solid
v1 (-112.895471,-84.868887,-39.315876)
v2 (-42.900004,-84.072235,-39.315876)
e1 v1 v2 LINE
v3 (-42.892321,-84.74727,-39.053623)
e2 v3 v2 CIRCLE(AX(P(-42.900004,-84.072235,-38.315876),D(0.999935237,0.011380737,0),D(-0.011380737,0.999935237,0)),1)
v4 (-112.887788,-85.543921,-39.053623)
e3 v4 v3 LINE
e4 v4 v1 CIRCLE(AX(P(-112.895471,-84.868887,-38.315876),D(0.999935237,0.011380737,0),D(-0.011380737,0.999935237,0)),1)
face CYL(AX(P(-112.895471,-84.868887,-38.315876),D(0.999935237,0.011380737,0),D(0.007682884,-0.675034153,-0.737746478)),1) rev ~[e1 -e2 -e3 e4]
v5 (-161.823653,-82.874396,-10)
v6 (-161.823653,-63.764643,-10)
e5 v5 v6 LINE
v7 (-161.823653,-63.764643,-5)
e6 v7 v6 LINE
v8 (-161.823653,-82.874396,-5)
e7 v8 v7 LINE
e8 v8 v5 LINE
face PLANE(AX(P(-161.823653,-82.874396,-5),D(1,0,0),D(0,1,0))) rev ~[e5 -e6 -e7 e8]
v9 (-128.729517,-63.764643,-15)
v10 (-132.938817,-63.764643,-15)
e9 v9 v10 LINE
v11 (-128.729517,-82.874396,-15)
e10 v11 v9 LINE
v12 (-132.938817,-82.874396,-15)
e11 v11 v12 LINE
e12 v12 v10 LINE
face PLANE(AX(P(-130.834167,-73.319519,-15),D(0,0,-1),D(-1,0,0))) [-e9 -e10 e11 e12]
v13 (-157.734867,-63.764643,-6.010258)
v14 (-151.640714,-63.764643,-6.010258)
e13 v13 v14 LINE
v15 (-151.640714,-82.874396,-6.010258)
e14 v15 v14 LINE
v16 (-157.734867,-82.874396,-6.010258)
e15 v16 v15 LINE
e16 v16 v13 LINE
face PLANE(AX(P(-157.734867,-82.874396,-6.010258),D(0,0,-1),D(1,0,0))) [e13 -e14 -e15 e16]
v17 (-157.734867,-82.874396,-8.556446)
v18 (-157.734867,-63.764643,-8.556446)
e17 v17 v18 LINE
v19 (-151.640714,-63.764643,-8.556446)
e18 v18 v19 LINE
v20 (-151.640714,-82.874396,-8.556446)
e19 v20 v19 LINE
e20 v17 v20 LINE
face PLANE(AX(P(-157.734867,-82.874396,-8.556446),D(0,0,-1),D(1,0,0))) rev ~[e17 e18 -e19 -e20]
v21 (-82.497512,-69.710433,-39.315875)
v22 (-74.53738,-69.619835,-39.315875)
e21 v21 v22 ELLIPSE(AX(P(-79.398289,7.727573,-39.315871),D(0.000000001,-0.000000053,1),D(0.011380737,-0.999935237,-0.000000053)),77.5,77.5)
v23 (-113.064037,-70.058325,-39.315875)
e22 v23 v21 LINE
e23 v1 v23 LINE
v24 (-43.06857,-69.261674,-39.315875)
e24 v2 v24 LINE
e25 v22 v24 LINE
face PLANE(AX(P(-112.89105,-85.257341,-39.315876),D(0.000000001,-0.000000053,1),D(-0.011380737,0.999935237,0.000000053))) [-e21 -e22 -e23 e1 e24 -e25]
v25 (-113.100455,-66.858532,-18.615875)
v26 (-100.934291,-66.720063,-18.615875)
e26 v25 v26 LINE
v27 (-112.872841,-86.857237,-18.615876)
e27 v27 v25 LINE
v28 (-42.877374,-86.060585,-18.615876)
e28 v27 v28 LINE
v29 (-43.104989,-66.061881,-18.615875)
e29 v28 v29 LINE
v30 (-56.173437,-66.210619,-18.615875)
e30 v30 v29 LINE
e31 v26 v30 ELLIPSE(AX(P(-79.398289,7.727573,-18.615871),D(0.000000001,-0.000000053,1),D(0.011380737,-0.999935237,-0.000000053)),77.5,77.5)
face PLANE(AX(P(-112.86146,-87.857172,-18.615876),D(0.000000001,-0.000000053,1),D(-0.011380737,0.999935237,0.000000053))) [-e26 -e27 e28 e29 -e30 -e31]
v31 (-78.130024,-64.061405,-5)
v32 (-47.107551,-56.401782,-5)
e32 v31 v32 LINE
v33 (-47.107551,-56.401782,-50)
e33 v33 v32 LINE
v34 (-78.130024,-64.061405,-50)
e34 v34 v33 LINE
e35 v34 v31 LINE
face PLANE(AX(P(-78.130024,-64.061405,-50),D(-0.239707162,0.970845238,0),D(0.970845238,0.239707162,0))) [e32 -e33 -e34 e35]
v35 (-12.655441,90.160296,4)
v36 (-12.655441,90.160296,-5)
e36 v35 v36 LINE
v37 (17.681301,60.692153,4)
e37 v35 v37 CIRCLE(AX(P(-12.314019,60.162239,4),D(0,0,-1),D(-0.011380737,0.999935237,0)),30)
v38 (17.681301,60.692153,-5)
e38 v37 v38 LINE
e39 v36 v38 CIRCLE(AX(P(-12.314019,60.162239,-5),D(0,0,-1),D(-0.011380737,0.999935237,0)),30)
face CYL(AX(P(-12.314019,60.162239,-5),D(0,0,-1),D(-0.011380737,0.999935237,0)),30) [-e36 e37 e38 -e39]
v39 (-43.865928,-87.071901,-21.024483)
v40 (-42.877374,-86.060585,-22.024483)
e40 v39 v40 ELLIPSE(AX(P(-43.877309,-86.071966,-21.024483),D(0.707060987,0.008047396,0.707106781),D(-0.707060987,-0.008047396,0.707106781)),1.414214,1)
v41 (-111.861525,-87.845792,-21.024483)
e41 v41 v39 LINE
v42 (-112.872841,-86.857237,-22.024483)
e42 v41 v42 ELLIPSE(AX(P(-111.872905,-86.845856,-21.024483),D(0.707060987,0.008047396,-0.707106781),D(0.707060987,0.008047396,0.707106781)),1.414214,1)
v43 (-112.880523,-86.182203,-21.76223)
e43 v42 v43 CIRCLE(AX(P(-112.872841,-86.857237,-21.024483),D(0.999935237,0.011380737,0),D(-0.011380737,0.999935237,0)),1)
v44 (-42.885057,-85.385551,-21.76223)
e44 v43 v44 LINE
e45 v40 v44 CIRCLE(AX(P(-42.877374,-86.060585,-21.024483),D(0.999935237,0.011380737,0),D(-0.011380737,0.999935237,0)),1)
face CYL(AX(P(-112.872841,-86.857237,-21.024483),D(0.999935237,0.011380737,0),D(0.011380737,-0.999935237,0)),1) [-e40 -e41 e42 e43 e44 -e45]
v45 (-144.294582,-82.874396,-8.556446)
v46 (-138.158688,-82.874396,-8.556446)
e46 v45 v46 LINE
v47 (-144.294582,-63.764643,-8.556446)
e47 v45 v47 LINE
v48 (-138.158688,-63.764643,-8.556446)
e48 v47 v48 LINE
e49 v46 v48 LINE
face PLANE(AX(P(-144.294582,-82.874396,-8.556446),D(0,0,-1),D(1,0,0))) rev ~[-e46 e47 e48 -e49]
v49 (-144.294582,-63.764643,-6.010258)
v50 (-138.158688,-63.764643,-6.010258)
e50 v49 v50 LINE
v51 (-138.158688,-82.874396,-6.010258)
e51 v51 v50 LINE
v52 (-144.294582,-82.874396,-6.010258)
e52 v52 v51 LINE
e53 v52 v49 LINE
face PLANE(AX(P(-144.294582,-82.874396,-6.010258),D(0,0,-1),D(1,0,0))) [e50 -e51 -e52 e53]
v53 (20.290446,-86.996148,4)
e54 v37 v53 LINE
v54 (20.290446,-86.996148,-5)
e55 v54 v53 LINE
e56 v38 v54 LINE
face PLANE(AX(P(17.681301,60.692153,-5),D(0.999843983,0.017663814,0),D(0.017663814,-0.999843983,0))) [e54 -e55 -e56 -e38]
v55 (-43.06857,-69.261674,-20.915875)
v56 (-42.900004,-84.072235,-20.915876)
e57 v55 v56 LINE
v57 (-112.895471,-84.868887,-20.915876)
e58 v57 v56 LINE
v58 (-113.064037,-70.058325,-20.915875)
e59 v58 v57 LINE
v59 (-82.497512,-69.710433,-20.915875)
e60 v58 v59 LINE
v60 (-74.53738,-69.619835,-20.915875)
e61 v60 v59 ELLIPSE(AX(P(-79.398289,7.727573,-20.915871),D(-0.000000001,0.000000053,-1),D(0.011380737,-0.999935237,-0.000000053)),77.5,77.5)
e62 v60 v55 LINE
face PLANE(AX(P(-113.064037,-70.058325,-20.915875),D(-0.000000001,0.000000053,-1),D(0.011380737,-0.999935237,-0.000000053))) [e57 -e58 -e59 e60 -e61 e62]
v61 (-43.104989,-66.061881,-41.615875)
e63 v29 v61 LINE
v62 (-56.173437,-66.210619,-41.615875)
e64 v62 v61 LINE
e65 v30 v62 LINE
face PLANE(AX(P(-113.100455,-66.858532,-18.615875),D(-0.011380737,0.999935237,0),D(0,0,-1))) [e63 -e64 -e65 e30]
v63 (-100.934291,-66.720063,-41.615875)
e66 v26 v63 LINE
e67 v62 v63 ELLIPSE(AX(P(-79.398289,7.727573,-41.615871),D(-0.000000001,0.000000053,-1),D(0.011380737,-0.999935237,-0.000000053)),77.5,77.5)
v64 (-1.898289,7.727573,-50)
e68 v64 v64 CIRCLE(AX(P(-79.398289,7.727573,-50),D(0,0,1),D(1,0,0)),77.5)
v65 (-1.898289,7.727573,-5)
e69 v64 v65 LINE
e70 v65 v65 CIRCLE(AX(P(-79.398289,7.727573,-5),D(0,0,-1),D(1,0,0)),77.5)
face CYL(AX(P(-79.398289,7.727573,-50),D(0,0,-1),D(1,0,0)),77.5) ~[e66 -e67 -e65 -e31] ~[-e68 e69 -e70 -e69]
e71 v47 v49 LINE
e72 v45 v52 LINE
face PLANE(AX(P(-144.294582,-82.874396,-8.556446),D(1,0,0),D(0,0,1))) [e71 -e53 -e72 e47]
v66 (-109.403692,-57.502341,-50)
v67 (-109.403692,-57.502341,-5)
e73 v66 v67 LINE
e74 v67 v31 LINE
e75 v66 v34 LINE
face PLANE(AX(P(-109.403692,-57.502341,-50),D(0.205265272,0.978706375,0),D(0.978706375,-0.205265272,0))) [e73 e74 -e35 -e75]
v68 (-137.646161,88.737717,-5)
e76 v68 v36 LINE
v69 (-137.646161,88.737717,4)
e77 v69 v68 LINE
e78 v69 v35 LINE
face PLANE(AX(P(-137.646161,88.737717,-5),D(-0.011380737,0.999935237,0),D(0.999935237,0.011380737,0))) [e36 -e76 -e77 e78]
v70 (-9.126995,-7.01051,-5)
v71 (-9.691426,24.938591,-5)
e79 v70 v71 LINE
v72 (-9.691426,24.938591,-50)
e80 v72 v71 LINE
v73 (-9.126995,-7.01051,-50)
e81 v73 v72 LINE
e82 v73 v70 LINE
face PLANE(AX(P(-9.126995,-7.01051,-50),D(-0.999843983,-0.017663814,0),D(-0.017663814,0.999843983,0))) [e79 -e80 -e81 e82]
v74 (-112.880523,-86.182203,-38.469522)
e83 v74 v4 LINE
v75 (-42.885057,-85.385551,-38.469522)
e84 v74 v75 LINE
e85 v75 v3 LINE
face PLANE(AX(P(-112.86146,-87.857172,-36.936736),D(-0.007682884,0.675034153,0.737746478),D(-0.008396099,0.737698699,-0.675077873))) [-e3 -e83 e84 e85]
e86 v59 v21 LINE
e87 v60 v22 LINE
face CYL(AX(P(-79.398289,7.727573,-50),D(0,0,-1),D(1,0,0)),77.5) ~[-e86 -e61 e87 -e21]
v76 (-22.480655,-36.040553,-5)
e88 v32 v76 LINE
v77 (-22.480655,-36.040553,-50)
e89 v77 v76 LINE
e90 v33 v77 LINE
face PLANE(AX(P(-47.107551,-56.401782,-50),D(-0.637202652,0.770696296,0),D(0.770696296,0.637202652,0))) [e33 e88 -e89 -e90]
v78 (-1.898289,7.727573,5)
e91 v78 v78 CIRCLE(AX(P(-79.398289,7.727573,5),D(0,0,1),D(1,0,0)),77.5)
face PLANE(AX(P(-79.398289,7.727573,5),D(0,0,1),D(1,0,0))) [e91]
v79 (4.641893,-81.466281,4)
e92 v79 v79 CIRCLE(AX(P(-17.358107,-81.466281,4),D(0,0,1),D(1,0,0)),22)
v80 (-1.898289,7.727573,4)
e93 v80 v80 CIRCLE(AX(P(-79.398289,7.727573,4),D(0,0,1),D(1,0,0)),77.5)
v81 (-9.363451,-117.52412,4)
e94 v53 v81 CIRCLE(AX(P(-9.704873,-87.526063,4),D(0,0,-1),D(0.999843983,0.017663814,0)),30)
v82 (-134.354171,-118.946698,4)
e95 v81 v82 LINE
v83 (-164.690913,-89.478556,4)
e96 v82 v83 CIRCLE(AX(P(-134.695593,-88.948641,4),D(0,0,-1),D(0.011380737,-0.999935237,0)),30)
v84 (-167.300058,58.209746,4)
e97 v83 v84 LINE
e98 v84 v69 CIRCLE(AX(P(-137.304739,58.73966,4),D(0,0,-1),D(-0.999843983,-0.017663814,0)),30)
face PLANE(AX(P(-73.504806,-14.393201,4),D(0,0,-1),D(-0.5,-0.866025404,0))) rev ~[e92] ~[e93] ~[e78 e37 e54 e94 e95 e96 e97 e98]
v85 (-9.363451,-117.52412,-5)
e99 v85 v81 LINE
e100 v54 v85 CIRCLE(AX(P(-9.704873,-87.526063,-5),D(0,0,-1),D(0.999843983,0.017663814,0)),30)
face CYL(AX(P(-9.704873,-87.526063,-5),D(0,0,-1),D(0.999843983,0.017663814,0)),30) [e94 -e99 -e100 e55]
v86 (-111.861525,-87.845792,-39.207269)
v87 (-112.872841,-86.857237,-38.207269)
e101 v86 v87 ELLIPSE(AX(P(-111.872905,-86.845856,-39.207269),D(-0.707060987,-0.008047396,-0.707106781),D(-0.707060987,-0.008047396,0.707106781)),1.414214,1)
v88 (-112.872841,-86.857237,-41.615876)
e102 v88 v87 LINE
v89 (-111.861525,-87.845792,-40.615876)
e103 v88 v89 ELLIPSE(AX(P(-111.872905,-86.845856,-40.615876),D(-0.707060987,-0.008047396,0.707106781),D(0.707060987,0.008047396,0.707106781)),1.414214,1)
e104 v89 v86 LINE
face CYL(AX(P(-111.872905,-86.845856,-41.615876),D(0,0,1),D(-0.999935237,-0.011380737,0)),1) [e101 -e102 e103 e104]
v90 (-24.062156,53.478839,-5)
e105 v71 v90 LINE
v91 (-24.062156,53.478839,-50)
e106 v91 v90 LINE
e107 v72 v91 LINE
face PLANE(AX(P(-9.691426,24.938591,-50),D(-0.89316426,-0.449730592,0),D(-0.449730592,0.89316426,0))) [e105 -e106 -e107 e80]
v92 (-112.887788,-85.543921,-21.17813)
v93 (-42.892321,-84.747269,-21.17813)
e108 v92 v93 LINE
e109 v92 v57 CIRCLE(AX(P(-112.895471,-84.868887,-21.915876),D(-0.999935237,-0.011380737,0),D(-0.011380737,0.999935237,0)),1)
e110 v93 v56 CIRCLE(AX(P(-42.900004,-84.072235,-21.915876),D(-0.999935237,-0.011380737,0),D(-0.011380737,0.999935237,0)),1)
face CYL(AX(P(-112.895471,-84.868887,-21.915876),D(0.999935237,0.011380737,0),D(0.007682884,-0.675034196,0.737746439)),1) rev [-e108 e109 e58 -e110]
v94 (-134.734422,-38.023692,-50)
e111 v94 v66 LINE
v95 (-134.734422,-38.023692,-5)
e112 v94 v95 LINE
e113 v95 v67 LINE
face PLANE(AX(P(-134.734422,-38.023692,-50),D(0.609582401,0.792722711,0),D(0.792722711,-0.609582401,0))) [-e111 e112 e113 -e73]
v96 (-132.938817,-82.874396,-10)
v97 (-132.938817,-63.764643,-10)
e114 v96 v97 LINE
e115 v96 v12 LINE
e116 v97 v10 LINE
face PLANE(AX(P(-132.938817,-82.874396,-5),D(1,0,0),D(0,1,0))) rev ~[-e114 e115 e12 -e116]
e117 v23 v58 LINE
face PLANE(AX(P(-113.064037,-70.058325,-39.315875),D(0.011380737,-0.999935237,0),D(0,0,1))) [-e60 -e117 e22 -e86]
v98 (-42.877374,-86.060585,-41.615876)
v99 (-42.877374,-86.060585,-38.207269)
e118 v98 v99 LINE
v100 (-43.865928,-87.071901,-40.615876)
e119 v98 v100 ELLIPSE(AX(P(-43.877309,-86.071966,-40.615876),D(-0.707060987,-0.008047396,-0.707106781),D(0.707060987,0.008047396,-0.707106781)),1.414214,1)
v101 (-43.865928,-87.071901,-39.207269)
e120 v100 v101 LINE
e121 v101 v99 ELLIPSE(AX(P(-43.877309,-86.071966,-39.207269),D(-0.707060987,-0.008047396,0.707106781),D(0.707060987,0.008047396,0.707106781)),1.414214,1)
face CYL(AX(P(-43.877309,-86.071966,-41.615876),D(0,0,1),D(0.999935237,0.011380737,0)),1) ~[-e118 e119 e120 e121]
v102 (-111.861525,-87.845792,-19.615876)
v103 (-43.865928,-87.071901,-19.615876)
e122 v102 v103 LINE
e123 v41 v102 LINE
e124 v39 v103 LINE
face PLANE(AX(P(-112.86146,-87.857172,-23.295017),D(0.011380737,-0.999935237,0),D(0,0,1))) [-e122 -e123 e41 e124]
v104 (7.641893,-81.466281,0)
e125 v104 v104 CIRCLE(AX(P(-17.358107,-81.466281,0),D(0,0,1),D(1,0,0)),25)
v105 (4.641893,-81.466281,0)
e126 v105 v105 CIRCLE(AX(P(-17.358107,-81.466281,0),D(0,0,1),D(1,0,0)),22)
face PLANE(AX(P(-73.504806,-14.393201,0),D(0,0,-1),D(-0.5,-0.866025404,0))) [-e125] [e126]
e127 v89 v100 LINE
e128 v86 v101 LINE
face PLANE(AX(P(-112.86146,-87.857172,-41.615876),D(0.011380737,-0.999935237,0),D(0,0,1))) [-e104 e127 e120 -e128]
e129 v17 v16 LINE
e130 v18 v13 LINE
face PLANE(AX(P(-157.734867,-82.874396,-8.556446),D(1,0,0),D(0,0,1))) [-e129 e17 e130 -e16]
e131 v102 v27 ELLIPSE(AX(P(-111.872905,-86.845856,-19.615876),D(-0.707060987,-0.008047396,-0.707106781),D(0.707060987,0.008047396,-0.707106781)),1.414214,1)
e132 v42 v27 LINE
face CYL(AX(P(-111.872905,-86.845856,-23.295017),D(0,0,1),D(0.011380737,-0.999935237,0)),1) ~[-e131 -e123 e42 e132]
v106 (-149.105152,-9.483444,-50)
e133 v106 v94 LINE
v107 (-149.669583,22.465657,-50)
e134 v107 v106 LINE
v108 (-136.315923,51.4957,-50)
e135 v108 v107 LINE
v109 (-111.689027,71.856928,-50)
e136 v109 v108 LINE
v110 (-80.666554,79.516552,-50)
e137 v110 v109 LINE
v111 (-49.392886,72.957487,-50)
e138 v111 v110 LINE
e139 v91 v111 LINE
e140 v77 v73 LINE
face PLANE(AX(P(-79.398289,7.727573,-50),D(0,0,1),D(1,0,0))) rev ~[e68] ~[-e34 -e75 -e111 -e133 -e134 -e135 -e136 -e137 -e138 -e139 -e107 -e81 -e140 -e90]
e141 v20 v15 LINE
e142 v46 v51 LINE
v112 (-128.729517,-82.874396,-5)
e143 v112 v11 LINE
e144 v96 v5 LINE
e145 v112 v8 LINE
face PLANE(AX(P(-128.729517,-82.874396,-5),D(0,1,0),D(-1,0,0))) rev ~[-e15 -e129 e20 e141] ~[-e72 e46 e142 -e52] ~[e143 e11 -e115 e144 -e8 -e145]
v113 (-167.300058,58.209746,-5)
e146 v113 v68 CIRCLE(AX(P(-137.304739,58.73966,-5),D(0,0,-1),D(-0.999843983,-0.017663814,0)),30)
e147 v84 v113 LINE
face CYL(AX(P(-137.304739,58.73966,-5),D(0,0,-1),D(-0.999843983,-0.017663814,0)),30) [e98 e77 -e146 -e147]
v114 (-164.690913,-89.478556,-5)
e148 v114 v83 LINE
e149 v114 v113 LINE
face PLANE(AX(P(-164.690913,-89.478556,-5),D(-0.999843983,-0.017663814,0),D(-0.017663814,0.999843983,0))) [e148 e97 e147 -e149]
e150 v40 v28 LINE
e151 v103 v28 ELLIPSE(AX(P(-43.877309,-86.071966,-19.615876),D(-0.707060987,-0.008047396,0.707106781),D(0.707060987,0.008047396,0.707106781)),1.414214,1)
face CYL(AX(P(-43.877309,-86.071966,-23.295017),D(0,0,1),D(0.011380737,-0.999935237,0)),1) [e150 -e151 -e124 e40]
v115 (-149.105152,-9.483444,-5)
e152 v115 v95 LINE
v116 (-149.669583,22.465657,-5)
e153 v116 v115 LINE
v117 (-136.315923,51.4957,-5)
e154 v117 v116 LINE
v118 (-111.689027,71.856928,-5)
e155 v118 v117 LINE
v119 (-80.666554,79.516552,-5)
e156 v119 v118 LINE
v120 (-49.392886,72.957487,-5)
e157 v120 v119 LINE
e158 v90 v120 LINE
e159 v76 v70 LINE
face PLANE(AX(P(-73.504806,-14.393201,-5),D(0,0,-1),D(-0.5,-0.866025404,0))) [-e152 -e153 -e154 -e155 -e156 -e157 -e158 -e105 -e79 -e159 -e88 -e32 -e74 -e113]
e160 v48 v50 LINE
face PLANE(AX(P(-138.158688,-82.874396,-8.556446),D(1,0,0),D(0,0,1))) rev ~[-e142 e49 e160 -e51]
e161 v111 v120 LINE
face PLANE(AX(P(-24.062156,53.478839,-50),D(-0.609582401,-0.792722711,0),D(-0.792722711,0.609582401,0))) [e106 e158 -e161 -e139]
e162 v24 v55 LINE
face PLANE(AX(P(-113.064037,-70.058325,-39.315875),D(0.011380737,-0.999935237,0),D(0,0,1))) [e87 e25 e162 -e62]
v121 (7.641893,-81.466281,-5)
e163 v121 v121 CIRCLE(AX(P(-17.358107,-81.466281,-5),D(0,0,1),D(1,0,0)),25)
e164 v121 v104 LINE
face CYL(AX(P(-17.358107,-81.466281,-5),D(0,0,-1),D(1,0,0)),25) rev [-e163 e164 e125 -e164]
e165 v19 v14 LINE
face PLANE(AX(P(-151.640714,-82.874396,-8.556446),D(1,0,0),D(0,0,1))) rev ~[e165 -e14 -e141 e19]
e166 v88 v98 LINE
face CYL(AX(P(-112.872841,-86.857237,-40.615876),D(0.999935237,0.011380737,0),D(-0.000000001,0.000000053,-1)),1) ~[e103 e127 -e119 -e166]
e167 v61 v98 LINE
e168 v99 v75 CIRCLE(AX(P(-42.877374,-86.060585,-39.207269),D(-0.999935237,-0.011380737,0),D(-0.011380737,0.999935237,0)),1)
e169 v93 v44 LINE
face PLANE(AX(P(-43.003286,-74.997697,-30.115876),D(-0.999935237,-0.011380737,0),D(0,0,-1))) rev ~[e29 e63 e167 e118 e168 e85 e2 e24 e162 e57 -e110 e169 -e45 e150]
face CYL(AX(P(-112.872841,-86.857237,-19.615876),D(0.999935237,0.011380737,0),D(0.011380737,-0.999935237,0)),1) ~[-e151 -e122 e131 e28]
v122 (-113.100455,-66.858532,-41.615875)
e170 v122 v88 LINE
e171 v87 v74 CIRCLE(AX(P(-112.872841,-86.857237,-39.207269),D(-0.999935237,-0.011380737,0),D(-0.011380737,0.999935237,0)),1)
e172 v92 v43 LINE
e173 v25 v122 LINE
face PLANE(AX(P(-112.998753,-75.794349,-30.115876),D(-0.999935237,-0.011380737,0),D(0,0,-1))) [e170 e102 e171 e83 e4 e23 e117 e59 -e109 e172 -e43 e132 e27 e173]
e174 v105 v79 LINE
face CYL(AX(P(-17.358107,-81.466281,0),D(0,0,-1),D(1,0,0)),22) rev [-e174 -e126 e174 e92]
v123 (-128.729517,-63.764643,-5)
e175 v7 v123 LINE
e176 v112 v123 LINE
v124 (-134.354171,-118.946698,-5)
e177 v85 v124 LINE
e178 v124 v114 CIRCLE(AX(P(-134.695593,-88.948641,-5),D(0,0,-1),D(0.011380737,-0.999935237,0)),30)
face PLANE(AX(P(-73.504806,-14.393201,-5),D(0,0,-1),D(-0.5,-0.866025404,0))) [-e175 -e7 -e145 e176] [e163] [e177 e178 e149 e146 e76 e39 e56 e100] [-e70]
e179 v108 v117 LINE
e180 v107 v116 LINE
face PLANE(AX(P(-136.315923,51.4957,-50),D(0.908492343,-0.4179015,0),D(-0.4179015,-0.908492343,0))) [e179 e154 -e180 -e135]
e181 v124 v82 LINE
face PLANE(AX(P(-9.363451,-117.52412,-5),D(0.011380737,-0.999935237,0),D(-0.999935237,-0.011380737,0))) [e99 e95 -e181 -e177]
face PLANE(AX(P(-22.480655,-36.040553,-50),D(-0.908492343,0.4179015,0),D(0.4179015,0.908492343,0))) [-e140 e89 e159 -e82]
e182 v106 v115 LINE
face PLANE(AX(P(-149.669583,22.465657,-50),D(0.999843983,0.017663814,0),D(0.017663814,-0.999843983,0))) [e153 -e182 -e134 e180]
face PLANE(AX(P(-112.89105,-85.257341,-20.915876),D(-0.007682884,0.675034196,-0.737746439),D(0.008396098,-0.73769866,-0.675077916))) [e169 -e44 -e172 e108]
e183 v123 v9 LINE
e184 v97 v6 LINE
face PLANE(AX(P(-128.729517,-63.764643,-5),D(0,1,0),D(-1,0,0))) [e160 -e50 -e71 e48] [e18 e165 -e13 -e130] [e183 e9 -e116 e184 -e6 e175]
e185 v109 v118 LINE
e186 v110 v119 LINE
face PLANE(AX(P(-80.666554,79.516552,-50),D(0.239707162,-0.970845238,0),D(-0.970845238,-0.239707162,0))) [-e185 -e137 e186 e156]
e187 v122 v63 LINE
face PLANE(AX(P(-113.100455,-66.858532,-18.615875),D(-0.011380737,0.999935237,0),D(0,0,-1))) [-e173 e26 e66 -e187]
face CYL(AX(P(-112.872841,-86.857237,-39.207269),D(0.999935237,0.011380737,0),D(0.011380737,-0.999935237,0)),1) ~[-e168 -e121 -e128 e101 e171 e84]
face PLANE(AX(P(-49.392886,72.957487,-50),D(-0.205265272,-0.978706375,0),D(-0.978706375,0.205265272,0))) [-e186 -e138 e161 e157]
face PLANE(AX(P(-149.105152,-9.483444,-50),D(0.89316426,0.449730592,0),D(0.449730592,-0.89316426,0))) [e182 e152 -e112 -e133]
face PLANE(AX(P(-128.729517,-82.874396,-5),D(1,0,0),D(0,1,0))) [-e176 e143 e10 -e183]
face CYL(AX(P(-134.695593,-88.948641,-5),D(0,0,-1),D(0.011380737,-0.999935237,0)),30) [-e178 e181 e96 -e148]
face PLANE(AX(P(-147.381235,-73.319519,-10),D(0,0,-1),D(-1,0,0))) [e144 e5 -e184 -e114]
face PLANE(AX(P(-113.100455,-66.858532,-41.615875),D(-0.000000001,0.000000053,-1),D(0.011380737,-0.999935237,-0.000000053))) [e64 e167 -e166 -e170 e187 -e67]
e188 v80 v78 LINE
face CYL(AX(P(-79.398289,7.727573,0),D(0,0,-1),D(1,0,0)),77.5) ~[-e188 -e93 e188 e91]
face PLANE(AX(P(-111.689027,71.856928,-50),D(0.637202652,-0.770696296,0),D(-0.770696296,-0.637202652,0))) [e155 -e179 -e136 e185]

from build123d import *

# Parameters (mm, degrees)
SKETCH1_R                 = 77.5
SKETCH1_R_2               = 22
BOSS_EXTRUDE1_DEPTH       = 4
BOSS_EXTRUDE2_START       = -5
SKETCH1_4_R               = 25
BOSS_EXTRUDE2_DEPTH       = 5
BOSS_EXTRUDE5_START       = -50
SKETCH1_7_R               = 77.5
BOSS_EXTRUDE5_DEPTH       = 50
BOSS_EXTRUDE11_DEPTH      = 35
BOSS_EXTRUDE11_DEPTH_BACK = 35
FILLET6_R                 = 1
SKETCH1_8_R               = 77.5
BOSS_EXTRUDE12_DEPTH      = 5
SKETCH9_W                 = 28.884835104
SKETCH9_H                 = 19.109753223
BOSS_EXTRUDE15_DEPTH      = 5
SKETCH10_W                = 6.135894163
SKETCH10_H                = 2.546187374
SKETCH10_W_2              = 6.094153386
CUT_EXTRUDE1_DEPTH        = 19.109753223
SKETCH9_9_W               = 4.209300424
SKETCH9_9_H               = 19.109753223
BOSS_EXTRUDE16_DEPTH      = 10


with BuildPart() as part:
    # Sketch1 → Boss-Extrude1 (new body)
    with BuildSketch(Plane(origin=(-55.630480005, 66.15900607, 0), x_dir=(0.499999999999998, 0.8660254037844398, 0), z_dir=(0, 0, 1))):
        with BuildLine():
            Line((-189.316298544, 16.630324375), (-62.719050458, 92.734061587))
            ThreePointArc((-62.719050458, 92.734061587), (-39.919544136, 96.109788868), (-21.454102902, 82.317018907))
            Line((-21.454102902, 82.317018907), (42.273246416, -25.216830667))
            ThreePointArc((42.273246416, -25.216830667), (45.552356682, -47.854466687), (31.921457021, -66.223290906))
            Line((31.921457021, -66.223290906), (-94.675791065, -142.327028118))
            ThreePointArc((-94.675791065, -142.327028118), (-117.475297387, -145.7027554), (-135.940738621, -131.909985438))
            Line((-135.940738621, -131.909985438), (-199.668087939, -24.376135865))
            ThreePointArc((-199.668087939, -24.376135865), (-202.947198205, -1.738499844), (-189.316298544, 16.630324375))
        make_face()
        with Locations(Location((-62.487009575, -8.6321901, 0), (0, 0, 300))):
            Circle(SKETCH1_R, mode=Mode.SUBTRACT)
        with Locations(Location((-108.711062401, -106.957491085, 0), (0, 0, 300))):
            Circle(SKETCH1_R_2, mode=Mode.SUBTRACT)
    extrude(amount=BOSS_EXTRUDE1_DEPTH)

    # Sketch1_4 → Boss-Extrude2 (add)
    with BuildSketch(Plane(origin=(-55.630480005, 66.15900607, 0), x_dir=(0.499999999999998, 0.8660254037844398, 0), z_dir=(0, 0, 1)).offset(BOSS_EXTRUDE2_START)):
        with BuildLine():
            Line((-189.316298544, 16.630324375), (-62.719050458, 92.734061587))
            ThreePointArc((-62.719050458, 92.734061587), (-39.919544136, 96.109788868), (-21.454102902, 82.317018907))
            Line((-21.454102902, 82.317018907), (42.273246416, -25.216830667))
            ThreePointArc((42.273246416, -25.216830667), (45.552356682, -47.854466687), (31.921457021, -66.223290906))
            Line((31.921457021, -66.223290906), (-94.675791065, -142.327028118))
            ThreePointArc((-94.675791065, -142.327028118), (-117.475297387, -145.7027554), (-135.940738621, -131.909985438))
            Line((-135.940738621, -131.909985438), (-199.668087939, -24.376135865))
            ThreePointArc((-199.668087939, -24.376135865), (-202.947198205, -1.738499844), (-189.316298544, 16.630324375))
        make_face()
        with Locations(Location((-108.711062401, -106.957491085, 0), (0, 0, 300))):
            Circle(SKETCH1_4_R, mode=Mode.SUBTRACT)
    extrude(amount=BOSS_EXTRUDE2_DEPTH)

    # Sketch1_7 → Boss-Extrude5 (add)
    with BuildSketch(Plane(origin=(-55.630480005, 66.15900607, 0), x_dir=(0.499999999999998, 0.8660254037844398, 0), z_dir=(0, 0, 1)).offset(BOSS_EXTRUDE5_START)):
        with Locations(Location((-62.487009575, -8.6321901, 0), (0, 0, 300))):
            Circle(SKETCH1_7_R)
        Polygon((-84.859101961, 59.5935777), (-112.245619562, 43.13021558), (-129.776834206, 16.41467419), (-133.980473825, -15.261705851), (-124.023956041, -45.625028993), (-101.879291307, -68.661466704), (-71.932502062, -79.808369973), (-40.114917188, -76.8579579), (-12.728399587, -60.39459578), (4.802815056, -33.679054391), (9.006454676, -2.002674349), (-0.950063109, 28.360648792), (-23.094727842, 51.397086504), (-53.041517088, 62.543989773), align=None, mode=Mode.SUBTRACT)
    extrude(amount=BOSS_EXTRUDE5_DEPTH)

    # Sketch8 → Boss-Extrude11 (add, two sides: drawn at the far end of the back side and taken through both)
    with BuildSketch(Plane(origin=(-78.84892316, -0.897416974, 0), x_dir=(0, 0, 1), z_dir=(0.9999352373159692, 0.01138073696455021, 0)).offset(-BOSS_EXTRUDE11_DEPTH_BACK)):
        Polygon((-23.295016777, 86.56703586), (-18.615876211, 86.56703586), (-18.615875095, 65.56703586), (-41.615875095, 65.56703586), (-41.615876211, 86.56703586), (-36.936735645, 86.56703586), (-39.315876073, 83.96703586), (-39.315875265, 68.76703586), (-20.915875265, 68.76703586), (-20.915876073, 83.96703586), align=None)
    extrude(amount=BOSS_EXTRUDE11_DEPTH + BOSS_EXTRUDE11_DEPTH_BACK)

    # Fillet6
    fillet6_edges = [part.edges().sort_by_distance(p)[0] for p in [
        (-77.863726496, -87.45884652, -23.295016777),
        (-42.86599319, -87.060520726, -20.955446494),
        (-77.863726496, -87.45884652, -18.615876211),
        (-77.863726496, -87.45884652, -41.615876211),
        (-42.86599319, -87.060520726, -39.276305928),
        (-77.863726496, -87.45884652, -36.936735645),
        (-77.893316412, -84.859014903, -39.315876073),
        (-77.893316412, -84.859014903, -20.915876073),
        (-112.861459802, -87.857172313, -20.955446494),
        (-112.861459802, -87.857172313, -39.276305928),
    ]]
    fillet(fillet6_edges, radius=FILLET6_R)

    # Sketch1_8 → Boss-Extrude12 (add)
    # profile 1 of 2: a face of its own
    with BuildSketch(Plane(origin=(-55.630480005, 66.15900607, 0), x_dir=(0.499999999999998, 0.8660254037844398, 0), z_dir=(0, 0, 1))):
        with Locations(Location((-62.487009575, -8.6321901, 0), (0, 0, 300))):
            Circle(SKETCH1_8_R)
        Polygon((-53.041517088, 62.543989773), (-84.859101961, 59.5935777), (-112.245619562, 43.13021558), (-129.776834206, 16.41467419), (-133.980473825, -15.261705851), (-124.023956041, -45.625028993), (-101.879291307, -68.661466704), (-71.932502062, -79.808369973), (-40.114917188, -76.8579579), (-12.728399587, -60.39459578), (4.802815056, -33.679054391), (9.006454676, -2.002674349), (-0.950063109, 28.360648792), (-23.094727842, 51.397086504), align=None, mode=Mode.SUBTRACT)
    # profile 2 of 2: a face of its own
    with BuildSketch(Plane(origin=(-55.630480005, 66.15900607, 0), x_dir=(0.499999999999998, 0.8660254037844398, 0), z_dir=(0, 0, 1))):
        Polygon((-23.094727842, 51.397086504), (-53.041517088, 62.543989773), (-84.859101961, 59.5935777), (-112.245619562, 43.13021558), (-129.776834206, 16.41467419), (-133.980473825, -15.261705851), (-124.023956041, -45.625028993), (-101.879291307, -68.661466704), (-71.932502062, -79.808369973), (-40.114917188, -76.8579579), (-12.728399587, -60.39459578), (4.802815056, -33.679054391), (9.006454676, -2.002674349), (-0.950063109, 28.360648792), align=None)
    extrude(amount=BOSS_EXTRUDE12_DEPTH)

    # Sketch9 → Boss-Extrude15 (add)
    with BuildSketch(Plane(origin=(0, 0, -5), x_dir=(-1, 0, 0), z_dir=(0, 0, -1))):
        with Locations((147.381235027, -73.319519351)):
            Rectangle(SKETCH9_W, SKETCH9_H)
    extrude(amount=BOSS_EXTRUDE15_DEPTH)

    # Sketch10 → Cut-Extrude1 (cut)
    with BuildSketch(Plane.XZ.offset(82.874395962)):
        with Locations((-141.22663524, -7.28335185)):
            Rectangle(SKETCH10_W, SKETCH10_H)
        with Locations((-154.687790802, -7.28335185)):
            Rectangle(SKETCH10_W_2, SKETCH10_H)
    extrude(amount=-CUT_EXTRUDE1_DEPTH, mode=Mode.SUBTRACT)

    # Sketch9_9 → Boss-Extrude16 (add)
    with BuildSketch(Plane(origin=(0, 0, -5), x_dir=(-1, 0, 0), z_dir=(0, 0, -1))):
        with Locations((130.834167263, -73.319519351)):
            Rectangle(SKETCH9_9_W, SKETCH9_9_H)
    extrude(amount=BOSS_EXTRUDE16_DEPTH)


solid = part.part
